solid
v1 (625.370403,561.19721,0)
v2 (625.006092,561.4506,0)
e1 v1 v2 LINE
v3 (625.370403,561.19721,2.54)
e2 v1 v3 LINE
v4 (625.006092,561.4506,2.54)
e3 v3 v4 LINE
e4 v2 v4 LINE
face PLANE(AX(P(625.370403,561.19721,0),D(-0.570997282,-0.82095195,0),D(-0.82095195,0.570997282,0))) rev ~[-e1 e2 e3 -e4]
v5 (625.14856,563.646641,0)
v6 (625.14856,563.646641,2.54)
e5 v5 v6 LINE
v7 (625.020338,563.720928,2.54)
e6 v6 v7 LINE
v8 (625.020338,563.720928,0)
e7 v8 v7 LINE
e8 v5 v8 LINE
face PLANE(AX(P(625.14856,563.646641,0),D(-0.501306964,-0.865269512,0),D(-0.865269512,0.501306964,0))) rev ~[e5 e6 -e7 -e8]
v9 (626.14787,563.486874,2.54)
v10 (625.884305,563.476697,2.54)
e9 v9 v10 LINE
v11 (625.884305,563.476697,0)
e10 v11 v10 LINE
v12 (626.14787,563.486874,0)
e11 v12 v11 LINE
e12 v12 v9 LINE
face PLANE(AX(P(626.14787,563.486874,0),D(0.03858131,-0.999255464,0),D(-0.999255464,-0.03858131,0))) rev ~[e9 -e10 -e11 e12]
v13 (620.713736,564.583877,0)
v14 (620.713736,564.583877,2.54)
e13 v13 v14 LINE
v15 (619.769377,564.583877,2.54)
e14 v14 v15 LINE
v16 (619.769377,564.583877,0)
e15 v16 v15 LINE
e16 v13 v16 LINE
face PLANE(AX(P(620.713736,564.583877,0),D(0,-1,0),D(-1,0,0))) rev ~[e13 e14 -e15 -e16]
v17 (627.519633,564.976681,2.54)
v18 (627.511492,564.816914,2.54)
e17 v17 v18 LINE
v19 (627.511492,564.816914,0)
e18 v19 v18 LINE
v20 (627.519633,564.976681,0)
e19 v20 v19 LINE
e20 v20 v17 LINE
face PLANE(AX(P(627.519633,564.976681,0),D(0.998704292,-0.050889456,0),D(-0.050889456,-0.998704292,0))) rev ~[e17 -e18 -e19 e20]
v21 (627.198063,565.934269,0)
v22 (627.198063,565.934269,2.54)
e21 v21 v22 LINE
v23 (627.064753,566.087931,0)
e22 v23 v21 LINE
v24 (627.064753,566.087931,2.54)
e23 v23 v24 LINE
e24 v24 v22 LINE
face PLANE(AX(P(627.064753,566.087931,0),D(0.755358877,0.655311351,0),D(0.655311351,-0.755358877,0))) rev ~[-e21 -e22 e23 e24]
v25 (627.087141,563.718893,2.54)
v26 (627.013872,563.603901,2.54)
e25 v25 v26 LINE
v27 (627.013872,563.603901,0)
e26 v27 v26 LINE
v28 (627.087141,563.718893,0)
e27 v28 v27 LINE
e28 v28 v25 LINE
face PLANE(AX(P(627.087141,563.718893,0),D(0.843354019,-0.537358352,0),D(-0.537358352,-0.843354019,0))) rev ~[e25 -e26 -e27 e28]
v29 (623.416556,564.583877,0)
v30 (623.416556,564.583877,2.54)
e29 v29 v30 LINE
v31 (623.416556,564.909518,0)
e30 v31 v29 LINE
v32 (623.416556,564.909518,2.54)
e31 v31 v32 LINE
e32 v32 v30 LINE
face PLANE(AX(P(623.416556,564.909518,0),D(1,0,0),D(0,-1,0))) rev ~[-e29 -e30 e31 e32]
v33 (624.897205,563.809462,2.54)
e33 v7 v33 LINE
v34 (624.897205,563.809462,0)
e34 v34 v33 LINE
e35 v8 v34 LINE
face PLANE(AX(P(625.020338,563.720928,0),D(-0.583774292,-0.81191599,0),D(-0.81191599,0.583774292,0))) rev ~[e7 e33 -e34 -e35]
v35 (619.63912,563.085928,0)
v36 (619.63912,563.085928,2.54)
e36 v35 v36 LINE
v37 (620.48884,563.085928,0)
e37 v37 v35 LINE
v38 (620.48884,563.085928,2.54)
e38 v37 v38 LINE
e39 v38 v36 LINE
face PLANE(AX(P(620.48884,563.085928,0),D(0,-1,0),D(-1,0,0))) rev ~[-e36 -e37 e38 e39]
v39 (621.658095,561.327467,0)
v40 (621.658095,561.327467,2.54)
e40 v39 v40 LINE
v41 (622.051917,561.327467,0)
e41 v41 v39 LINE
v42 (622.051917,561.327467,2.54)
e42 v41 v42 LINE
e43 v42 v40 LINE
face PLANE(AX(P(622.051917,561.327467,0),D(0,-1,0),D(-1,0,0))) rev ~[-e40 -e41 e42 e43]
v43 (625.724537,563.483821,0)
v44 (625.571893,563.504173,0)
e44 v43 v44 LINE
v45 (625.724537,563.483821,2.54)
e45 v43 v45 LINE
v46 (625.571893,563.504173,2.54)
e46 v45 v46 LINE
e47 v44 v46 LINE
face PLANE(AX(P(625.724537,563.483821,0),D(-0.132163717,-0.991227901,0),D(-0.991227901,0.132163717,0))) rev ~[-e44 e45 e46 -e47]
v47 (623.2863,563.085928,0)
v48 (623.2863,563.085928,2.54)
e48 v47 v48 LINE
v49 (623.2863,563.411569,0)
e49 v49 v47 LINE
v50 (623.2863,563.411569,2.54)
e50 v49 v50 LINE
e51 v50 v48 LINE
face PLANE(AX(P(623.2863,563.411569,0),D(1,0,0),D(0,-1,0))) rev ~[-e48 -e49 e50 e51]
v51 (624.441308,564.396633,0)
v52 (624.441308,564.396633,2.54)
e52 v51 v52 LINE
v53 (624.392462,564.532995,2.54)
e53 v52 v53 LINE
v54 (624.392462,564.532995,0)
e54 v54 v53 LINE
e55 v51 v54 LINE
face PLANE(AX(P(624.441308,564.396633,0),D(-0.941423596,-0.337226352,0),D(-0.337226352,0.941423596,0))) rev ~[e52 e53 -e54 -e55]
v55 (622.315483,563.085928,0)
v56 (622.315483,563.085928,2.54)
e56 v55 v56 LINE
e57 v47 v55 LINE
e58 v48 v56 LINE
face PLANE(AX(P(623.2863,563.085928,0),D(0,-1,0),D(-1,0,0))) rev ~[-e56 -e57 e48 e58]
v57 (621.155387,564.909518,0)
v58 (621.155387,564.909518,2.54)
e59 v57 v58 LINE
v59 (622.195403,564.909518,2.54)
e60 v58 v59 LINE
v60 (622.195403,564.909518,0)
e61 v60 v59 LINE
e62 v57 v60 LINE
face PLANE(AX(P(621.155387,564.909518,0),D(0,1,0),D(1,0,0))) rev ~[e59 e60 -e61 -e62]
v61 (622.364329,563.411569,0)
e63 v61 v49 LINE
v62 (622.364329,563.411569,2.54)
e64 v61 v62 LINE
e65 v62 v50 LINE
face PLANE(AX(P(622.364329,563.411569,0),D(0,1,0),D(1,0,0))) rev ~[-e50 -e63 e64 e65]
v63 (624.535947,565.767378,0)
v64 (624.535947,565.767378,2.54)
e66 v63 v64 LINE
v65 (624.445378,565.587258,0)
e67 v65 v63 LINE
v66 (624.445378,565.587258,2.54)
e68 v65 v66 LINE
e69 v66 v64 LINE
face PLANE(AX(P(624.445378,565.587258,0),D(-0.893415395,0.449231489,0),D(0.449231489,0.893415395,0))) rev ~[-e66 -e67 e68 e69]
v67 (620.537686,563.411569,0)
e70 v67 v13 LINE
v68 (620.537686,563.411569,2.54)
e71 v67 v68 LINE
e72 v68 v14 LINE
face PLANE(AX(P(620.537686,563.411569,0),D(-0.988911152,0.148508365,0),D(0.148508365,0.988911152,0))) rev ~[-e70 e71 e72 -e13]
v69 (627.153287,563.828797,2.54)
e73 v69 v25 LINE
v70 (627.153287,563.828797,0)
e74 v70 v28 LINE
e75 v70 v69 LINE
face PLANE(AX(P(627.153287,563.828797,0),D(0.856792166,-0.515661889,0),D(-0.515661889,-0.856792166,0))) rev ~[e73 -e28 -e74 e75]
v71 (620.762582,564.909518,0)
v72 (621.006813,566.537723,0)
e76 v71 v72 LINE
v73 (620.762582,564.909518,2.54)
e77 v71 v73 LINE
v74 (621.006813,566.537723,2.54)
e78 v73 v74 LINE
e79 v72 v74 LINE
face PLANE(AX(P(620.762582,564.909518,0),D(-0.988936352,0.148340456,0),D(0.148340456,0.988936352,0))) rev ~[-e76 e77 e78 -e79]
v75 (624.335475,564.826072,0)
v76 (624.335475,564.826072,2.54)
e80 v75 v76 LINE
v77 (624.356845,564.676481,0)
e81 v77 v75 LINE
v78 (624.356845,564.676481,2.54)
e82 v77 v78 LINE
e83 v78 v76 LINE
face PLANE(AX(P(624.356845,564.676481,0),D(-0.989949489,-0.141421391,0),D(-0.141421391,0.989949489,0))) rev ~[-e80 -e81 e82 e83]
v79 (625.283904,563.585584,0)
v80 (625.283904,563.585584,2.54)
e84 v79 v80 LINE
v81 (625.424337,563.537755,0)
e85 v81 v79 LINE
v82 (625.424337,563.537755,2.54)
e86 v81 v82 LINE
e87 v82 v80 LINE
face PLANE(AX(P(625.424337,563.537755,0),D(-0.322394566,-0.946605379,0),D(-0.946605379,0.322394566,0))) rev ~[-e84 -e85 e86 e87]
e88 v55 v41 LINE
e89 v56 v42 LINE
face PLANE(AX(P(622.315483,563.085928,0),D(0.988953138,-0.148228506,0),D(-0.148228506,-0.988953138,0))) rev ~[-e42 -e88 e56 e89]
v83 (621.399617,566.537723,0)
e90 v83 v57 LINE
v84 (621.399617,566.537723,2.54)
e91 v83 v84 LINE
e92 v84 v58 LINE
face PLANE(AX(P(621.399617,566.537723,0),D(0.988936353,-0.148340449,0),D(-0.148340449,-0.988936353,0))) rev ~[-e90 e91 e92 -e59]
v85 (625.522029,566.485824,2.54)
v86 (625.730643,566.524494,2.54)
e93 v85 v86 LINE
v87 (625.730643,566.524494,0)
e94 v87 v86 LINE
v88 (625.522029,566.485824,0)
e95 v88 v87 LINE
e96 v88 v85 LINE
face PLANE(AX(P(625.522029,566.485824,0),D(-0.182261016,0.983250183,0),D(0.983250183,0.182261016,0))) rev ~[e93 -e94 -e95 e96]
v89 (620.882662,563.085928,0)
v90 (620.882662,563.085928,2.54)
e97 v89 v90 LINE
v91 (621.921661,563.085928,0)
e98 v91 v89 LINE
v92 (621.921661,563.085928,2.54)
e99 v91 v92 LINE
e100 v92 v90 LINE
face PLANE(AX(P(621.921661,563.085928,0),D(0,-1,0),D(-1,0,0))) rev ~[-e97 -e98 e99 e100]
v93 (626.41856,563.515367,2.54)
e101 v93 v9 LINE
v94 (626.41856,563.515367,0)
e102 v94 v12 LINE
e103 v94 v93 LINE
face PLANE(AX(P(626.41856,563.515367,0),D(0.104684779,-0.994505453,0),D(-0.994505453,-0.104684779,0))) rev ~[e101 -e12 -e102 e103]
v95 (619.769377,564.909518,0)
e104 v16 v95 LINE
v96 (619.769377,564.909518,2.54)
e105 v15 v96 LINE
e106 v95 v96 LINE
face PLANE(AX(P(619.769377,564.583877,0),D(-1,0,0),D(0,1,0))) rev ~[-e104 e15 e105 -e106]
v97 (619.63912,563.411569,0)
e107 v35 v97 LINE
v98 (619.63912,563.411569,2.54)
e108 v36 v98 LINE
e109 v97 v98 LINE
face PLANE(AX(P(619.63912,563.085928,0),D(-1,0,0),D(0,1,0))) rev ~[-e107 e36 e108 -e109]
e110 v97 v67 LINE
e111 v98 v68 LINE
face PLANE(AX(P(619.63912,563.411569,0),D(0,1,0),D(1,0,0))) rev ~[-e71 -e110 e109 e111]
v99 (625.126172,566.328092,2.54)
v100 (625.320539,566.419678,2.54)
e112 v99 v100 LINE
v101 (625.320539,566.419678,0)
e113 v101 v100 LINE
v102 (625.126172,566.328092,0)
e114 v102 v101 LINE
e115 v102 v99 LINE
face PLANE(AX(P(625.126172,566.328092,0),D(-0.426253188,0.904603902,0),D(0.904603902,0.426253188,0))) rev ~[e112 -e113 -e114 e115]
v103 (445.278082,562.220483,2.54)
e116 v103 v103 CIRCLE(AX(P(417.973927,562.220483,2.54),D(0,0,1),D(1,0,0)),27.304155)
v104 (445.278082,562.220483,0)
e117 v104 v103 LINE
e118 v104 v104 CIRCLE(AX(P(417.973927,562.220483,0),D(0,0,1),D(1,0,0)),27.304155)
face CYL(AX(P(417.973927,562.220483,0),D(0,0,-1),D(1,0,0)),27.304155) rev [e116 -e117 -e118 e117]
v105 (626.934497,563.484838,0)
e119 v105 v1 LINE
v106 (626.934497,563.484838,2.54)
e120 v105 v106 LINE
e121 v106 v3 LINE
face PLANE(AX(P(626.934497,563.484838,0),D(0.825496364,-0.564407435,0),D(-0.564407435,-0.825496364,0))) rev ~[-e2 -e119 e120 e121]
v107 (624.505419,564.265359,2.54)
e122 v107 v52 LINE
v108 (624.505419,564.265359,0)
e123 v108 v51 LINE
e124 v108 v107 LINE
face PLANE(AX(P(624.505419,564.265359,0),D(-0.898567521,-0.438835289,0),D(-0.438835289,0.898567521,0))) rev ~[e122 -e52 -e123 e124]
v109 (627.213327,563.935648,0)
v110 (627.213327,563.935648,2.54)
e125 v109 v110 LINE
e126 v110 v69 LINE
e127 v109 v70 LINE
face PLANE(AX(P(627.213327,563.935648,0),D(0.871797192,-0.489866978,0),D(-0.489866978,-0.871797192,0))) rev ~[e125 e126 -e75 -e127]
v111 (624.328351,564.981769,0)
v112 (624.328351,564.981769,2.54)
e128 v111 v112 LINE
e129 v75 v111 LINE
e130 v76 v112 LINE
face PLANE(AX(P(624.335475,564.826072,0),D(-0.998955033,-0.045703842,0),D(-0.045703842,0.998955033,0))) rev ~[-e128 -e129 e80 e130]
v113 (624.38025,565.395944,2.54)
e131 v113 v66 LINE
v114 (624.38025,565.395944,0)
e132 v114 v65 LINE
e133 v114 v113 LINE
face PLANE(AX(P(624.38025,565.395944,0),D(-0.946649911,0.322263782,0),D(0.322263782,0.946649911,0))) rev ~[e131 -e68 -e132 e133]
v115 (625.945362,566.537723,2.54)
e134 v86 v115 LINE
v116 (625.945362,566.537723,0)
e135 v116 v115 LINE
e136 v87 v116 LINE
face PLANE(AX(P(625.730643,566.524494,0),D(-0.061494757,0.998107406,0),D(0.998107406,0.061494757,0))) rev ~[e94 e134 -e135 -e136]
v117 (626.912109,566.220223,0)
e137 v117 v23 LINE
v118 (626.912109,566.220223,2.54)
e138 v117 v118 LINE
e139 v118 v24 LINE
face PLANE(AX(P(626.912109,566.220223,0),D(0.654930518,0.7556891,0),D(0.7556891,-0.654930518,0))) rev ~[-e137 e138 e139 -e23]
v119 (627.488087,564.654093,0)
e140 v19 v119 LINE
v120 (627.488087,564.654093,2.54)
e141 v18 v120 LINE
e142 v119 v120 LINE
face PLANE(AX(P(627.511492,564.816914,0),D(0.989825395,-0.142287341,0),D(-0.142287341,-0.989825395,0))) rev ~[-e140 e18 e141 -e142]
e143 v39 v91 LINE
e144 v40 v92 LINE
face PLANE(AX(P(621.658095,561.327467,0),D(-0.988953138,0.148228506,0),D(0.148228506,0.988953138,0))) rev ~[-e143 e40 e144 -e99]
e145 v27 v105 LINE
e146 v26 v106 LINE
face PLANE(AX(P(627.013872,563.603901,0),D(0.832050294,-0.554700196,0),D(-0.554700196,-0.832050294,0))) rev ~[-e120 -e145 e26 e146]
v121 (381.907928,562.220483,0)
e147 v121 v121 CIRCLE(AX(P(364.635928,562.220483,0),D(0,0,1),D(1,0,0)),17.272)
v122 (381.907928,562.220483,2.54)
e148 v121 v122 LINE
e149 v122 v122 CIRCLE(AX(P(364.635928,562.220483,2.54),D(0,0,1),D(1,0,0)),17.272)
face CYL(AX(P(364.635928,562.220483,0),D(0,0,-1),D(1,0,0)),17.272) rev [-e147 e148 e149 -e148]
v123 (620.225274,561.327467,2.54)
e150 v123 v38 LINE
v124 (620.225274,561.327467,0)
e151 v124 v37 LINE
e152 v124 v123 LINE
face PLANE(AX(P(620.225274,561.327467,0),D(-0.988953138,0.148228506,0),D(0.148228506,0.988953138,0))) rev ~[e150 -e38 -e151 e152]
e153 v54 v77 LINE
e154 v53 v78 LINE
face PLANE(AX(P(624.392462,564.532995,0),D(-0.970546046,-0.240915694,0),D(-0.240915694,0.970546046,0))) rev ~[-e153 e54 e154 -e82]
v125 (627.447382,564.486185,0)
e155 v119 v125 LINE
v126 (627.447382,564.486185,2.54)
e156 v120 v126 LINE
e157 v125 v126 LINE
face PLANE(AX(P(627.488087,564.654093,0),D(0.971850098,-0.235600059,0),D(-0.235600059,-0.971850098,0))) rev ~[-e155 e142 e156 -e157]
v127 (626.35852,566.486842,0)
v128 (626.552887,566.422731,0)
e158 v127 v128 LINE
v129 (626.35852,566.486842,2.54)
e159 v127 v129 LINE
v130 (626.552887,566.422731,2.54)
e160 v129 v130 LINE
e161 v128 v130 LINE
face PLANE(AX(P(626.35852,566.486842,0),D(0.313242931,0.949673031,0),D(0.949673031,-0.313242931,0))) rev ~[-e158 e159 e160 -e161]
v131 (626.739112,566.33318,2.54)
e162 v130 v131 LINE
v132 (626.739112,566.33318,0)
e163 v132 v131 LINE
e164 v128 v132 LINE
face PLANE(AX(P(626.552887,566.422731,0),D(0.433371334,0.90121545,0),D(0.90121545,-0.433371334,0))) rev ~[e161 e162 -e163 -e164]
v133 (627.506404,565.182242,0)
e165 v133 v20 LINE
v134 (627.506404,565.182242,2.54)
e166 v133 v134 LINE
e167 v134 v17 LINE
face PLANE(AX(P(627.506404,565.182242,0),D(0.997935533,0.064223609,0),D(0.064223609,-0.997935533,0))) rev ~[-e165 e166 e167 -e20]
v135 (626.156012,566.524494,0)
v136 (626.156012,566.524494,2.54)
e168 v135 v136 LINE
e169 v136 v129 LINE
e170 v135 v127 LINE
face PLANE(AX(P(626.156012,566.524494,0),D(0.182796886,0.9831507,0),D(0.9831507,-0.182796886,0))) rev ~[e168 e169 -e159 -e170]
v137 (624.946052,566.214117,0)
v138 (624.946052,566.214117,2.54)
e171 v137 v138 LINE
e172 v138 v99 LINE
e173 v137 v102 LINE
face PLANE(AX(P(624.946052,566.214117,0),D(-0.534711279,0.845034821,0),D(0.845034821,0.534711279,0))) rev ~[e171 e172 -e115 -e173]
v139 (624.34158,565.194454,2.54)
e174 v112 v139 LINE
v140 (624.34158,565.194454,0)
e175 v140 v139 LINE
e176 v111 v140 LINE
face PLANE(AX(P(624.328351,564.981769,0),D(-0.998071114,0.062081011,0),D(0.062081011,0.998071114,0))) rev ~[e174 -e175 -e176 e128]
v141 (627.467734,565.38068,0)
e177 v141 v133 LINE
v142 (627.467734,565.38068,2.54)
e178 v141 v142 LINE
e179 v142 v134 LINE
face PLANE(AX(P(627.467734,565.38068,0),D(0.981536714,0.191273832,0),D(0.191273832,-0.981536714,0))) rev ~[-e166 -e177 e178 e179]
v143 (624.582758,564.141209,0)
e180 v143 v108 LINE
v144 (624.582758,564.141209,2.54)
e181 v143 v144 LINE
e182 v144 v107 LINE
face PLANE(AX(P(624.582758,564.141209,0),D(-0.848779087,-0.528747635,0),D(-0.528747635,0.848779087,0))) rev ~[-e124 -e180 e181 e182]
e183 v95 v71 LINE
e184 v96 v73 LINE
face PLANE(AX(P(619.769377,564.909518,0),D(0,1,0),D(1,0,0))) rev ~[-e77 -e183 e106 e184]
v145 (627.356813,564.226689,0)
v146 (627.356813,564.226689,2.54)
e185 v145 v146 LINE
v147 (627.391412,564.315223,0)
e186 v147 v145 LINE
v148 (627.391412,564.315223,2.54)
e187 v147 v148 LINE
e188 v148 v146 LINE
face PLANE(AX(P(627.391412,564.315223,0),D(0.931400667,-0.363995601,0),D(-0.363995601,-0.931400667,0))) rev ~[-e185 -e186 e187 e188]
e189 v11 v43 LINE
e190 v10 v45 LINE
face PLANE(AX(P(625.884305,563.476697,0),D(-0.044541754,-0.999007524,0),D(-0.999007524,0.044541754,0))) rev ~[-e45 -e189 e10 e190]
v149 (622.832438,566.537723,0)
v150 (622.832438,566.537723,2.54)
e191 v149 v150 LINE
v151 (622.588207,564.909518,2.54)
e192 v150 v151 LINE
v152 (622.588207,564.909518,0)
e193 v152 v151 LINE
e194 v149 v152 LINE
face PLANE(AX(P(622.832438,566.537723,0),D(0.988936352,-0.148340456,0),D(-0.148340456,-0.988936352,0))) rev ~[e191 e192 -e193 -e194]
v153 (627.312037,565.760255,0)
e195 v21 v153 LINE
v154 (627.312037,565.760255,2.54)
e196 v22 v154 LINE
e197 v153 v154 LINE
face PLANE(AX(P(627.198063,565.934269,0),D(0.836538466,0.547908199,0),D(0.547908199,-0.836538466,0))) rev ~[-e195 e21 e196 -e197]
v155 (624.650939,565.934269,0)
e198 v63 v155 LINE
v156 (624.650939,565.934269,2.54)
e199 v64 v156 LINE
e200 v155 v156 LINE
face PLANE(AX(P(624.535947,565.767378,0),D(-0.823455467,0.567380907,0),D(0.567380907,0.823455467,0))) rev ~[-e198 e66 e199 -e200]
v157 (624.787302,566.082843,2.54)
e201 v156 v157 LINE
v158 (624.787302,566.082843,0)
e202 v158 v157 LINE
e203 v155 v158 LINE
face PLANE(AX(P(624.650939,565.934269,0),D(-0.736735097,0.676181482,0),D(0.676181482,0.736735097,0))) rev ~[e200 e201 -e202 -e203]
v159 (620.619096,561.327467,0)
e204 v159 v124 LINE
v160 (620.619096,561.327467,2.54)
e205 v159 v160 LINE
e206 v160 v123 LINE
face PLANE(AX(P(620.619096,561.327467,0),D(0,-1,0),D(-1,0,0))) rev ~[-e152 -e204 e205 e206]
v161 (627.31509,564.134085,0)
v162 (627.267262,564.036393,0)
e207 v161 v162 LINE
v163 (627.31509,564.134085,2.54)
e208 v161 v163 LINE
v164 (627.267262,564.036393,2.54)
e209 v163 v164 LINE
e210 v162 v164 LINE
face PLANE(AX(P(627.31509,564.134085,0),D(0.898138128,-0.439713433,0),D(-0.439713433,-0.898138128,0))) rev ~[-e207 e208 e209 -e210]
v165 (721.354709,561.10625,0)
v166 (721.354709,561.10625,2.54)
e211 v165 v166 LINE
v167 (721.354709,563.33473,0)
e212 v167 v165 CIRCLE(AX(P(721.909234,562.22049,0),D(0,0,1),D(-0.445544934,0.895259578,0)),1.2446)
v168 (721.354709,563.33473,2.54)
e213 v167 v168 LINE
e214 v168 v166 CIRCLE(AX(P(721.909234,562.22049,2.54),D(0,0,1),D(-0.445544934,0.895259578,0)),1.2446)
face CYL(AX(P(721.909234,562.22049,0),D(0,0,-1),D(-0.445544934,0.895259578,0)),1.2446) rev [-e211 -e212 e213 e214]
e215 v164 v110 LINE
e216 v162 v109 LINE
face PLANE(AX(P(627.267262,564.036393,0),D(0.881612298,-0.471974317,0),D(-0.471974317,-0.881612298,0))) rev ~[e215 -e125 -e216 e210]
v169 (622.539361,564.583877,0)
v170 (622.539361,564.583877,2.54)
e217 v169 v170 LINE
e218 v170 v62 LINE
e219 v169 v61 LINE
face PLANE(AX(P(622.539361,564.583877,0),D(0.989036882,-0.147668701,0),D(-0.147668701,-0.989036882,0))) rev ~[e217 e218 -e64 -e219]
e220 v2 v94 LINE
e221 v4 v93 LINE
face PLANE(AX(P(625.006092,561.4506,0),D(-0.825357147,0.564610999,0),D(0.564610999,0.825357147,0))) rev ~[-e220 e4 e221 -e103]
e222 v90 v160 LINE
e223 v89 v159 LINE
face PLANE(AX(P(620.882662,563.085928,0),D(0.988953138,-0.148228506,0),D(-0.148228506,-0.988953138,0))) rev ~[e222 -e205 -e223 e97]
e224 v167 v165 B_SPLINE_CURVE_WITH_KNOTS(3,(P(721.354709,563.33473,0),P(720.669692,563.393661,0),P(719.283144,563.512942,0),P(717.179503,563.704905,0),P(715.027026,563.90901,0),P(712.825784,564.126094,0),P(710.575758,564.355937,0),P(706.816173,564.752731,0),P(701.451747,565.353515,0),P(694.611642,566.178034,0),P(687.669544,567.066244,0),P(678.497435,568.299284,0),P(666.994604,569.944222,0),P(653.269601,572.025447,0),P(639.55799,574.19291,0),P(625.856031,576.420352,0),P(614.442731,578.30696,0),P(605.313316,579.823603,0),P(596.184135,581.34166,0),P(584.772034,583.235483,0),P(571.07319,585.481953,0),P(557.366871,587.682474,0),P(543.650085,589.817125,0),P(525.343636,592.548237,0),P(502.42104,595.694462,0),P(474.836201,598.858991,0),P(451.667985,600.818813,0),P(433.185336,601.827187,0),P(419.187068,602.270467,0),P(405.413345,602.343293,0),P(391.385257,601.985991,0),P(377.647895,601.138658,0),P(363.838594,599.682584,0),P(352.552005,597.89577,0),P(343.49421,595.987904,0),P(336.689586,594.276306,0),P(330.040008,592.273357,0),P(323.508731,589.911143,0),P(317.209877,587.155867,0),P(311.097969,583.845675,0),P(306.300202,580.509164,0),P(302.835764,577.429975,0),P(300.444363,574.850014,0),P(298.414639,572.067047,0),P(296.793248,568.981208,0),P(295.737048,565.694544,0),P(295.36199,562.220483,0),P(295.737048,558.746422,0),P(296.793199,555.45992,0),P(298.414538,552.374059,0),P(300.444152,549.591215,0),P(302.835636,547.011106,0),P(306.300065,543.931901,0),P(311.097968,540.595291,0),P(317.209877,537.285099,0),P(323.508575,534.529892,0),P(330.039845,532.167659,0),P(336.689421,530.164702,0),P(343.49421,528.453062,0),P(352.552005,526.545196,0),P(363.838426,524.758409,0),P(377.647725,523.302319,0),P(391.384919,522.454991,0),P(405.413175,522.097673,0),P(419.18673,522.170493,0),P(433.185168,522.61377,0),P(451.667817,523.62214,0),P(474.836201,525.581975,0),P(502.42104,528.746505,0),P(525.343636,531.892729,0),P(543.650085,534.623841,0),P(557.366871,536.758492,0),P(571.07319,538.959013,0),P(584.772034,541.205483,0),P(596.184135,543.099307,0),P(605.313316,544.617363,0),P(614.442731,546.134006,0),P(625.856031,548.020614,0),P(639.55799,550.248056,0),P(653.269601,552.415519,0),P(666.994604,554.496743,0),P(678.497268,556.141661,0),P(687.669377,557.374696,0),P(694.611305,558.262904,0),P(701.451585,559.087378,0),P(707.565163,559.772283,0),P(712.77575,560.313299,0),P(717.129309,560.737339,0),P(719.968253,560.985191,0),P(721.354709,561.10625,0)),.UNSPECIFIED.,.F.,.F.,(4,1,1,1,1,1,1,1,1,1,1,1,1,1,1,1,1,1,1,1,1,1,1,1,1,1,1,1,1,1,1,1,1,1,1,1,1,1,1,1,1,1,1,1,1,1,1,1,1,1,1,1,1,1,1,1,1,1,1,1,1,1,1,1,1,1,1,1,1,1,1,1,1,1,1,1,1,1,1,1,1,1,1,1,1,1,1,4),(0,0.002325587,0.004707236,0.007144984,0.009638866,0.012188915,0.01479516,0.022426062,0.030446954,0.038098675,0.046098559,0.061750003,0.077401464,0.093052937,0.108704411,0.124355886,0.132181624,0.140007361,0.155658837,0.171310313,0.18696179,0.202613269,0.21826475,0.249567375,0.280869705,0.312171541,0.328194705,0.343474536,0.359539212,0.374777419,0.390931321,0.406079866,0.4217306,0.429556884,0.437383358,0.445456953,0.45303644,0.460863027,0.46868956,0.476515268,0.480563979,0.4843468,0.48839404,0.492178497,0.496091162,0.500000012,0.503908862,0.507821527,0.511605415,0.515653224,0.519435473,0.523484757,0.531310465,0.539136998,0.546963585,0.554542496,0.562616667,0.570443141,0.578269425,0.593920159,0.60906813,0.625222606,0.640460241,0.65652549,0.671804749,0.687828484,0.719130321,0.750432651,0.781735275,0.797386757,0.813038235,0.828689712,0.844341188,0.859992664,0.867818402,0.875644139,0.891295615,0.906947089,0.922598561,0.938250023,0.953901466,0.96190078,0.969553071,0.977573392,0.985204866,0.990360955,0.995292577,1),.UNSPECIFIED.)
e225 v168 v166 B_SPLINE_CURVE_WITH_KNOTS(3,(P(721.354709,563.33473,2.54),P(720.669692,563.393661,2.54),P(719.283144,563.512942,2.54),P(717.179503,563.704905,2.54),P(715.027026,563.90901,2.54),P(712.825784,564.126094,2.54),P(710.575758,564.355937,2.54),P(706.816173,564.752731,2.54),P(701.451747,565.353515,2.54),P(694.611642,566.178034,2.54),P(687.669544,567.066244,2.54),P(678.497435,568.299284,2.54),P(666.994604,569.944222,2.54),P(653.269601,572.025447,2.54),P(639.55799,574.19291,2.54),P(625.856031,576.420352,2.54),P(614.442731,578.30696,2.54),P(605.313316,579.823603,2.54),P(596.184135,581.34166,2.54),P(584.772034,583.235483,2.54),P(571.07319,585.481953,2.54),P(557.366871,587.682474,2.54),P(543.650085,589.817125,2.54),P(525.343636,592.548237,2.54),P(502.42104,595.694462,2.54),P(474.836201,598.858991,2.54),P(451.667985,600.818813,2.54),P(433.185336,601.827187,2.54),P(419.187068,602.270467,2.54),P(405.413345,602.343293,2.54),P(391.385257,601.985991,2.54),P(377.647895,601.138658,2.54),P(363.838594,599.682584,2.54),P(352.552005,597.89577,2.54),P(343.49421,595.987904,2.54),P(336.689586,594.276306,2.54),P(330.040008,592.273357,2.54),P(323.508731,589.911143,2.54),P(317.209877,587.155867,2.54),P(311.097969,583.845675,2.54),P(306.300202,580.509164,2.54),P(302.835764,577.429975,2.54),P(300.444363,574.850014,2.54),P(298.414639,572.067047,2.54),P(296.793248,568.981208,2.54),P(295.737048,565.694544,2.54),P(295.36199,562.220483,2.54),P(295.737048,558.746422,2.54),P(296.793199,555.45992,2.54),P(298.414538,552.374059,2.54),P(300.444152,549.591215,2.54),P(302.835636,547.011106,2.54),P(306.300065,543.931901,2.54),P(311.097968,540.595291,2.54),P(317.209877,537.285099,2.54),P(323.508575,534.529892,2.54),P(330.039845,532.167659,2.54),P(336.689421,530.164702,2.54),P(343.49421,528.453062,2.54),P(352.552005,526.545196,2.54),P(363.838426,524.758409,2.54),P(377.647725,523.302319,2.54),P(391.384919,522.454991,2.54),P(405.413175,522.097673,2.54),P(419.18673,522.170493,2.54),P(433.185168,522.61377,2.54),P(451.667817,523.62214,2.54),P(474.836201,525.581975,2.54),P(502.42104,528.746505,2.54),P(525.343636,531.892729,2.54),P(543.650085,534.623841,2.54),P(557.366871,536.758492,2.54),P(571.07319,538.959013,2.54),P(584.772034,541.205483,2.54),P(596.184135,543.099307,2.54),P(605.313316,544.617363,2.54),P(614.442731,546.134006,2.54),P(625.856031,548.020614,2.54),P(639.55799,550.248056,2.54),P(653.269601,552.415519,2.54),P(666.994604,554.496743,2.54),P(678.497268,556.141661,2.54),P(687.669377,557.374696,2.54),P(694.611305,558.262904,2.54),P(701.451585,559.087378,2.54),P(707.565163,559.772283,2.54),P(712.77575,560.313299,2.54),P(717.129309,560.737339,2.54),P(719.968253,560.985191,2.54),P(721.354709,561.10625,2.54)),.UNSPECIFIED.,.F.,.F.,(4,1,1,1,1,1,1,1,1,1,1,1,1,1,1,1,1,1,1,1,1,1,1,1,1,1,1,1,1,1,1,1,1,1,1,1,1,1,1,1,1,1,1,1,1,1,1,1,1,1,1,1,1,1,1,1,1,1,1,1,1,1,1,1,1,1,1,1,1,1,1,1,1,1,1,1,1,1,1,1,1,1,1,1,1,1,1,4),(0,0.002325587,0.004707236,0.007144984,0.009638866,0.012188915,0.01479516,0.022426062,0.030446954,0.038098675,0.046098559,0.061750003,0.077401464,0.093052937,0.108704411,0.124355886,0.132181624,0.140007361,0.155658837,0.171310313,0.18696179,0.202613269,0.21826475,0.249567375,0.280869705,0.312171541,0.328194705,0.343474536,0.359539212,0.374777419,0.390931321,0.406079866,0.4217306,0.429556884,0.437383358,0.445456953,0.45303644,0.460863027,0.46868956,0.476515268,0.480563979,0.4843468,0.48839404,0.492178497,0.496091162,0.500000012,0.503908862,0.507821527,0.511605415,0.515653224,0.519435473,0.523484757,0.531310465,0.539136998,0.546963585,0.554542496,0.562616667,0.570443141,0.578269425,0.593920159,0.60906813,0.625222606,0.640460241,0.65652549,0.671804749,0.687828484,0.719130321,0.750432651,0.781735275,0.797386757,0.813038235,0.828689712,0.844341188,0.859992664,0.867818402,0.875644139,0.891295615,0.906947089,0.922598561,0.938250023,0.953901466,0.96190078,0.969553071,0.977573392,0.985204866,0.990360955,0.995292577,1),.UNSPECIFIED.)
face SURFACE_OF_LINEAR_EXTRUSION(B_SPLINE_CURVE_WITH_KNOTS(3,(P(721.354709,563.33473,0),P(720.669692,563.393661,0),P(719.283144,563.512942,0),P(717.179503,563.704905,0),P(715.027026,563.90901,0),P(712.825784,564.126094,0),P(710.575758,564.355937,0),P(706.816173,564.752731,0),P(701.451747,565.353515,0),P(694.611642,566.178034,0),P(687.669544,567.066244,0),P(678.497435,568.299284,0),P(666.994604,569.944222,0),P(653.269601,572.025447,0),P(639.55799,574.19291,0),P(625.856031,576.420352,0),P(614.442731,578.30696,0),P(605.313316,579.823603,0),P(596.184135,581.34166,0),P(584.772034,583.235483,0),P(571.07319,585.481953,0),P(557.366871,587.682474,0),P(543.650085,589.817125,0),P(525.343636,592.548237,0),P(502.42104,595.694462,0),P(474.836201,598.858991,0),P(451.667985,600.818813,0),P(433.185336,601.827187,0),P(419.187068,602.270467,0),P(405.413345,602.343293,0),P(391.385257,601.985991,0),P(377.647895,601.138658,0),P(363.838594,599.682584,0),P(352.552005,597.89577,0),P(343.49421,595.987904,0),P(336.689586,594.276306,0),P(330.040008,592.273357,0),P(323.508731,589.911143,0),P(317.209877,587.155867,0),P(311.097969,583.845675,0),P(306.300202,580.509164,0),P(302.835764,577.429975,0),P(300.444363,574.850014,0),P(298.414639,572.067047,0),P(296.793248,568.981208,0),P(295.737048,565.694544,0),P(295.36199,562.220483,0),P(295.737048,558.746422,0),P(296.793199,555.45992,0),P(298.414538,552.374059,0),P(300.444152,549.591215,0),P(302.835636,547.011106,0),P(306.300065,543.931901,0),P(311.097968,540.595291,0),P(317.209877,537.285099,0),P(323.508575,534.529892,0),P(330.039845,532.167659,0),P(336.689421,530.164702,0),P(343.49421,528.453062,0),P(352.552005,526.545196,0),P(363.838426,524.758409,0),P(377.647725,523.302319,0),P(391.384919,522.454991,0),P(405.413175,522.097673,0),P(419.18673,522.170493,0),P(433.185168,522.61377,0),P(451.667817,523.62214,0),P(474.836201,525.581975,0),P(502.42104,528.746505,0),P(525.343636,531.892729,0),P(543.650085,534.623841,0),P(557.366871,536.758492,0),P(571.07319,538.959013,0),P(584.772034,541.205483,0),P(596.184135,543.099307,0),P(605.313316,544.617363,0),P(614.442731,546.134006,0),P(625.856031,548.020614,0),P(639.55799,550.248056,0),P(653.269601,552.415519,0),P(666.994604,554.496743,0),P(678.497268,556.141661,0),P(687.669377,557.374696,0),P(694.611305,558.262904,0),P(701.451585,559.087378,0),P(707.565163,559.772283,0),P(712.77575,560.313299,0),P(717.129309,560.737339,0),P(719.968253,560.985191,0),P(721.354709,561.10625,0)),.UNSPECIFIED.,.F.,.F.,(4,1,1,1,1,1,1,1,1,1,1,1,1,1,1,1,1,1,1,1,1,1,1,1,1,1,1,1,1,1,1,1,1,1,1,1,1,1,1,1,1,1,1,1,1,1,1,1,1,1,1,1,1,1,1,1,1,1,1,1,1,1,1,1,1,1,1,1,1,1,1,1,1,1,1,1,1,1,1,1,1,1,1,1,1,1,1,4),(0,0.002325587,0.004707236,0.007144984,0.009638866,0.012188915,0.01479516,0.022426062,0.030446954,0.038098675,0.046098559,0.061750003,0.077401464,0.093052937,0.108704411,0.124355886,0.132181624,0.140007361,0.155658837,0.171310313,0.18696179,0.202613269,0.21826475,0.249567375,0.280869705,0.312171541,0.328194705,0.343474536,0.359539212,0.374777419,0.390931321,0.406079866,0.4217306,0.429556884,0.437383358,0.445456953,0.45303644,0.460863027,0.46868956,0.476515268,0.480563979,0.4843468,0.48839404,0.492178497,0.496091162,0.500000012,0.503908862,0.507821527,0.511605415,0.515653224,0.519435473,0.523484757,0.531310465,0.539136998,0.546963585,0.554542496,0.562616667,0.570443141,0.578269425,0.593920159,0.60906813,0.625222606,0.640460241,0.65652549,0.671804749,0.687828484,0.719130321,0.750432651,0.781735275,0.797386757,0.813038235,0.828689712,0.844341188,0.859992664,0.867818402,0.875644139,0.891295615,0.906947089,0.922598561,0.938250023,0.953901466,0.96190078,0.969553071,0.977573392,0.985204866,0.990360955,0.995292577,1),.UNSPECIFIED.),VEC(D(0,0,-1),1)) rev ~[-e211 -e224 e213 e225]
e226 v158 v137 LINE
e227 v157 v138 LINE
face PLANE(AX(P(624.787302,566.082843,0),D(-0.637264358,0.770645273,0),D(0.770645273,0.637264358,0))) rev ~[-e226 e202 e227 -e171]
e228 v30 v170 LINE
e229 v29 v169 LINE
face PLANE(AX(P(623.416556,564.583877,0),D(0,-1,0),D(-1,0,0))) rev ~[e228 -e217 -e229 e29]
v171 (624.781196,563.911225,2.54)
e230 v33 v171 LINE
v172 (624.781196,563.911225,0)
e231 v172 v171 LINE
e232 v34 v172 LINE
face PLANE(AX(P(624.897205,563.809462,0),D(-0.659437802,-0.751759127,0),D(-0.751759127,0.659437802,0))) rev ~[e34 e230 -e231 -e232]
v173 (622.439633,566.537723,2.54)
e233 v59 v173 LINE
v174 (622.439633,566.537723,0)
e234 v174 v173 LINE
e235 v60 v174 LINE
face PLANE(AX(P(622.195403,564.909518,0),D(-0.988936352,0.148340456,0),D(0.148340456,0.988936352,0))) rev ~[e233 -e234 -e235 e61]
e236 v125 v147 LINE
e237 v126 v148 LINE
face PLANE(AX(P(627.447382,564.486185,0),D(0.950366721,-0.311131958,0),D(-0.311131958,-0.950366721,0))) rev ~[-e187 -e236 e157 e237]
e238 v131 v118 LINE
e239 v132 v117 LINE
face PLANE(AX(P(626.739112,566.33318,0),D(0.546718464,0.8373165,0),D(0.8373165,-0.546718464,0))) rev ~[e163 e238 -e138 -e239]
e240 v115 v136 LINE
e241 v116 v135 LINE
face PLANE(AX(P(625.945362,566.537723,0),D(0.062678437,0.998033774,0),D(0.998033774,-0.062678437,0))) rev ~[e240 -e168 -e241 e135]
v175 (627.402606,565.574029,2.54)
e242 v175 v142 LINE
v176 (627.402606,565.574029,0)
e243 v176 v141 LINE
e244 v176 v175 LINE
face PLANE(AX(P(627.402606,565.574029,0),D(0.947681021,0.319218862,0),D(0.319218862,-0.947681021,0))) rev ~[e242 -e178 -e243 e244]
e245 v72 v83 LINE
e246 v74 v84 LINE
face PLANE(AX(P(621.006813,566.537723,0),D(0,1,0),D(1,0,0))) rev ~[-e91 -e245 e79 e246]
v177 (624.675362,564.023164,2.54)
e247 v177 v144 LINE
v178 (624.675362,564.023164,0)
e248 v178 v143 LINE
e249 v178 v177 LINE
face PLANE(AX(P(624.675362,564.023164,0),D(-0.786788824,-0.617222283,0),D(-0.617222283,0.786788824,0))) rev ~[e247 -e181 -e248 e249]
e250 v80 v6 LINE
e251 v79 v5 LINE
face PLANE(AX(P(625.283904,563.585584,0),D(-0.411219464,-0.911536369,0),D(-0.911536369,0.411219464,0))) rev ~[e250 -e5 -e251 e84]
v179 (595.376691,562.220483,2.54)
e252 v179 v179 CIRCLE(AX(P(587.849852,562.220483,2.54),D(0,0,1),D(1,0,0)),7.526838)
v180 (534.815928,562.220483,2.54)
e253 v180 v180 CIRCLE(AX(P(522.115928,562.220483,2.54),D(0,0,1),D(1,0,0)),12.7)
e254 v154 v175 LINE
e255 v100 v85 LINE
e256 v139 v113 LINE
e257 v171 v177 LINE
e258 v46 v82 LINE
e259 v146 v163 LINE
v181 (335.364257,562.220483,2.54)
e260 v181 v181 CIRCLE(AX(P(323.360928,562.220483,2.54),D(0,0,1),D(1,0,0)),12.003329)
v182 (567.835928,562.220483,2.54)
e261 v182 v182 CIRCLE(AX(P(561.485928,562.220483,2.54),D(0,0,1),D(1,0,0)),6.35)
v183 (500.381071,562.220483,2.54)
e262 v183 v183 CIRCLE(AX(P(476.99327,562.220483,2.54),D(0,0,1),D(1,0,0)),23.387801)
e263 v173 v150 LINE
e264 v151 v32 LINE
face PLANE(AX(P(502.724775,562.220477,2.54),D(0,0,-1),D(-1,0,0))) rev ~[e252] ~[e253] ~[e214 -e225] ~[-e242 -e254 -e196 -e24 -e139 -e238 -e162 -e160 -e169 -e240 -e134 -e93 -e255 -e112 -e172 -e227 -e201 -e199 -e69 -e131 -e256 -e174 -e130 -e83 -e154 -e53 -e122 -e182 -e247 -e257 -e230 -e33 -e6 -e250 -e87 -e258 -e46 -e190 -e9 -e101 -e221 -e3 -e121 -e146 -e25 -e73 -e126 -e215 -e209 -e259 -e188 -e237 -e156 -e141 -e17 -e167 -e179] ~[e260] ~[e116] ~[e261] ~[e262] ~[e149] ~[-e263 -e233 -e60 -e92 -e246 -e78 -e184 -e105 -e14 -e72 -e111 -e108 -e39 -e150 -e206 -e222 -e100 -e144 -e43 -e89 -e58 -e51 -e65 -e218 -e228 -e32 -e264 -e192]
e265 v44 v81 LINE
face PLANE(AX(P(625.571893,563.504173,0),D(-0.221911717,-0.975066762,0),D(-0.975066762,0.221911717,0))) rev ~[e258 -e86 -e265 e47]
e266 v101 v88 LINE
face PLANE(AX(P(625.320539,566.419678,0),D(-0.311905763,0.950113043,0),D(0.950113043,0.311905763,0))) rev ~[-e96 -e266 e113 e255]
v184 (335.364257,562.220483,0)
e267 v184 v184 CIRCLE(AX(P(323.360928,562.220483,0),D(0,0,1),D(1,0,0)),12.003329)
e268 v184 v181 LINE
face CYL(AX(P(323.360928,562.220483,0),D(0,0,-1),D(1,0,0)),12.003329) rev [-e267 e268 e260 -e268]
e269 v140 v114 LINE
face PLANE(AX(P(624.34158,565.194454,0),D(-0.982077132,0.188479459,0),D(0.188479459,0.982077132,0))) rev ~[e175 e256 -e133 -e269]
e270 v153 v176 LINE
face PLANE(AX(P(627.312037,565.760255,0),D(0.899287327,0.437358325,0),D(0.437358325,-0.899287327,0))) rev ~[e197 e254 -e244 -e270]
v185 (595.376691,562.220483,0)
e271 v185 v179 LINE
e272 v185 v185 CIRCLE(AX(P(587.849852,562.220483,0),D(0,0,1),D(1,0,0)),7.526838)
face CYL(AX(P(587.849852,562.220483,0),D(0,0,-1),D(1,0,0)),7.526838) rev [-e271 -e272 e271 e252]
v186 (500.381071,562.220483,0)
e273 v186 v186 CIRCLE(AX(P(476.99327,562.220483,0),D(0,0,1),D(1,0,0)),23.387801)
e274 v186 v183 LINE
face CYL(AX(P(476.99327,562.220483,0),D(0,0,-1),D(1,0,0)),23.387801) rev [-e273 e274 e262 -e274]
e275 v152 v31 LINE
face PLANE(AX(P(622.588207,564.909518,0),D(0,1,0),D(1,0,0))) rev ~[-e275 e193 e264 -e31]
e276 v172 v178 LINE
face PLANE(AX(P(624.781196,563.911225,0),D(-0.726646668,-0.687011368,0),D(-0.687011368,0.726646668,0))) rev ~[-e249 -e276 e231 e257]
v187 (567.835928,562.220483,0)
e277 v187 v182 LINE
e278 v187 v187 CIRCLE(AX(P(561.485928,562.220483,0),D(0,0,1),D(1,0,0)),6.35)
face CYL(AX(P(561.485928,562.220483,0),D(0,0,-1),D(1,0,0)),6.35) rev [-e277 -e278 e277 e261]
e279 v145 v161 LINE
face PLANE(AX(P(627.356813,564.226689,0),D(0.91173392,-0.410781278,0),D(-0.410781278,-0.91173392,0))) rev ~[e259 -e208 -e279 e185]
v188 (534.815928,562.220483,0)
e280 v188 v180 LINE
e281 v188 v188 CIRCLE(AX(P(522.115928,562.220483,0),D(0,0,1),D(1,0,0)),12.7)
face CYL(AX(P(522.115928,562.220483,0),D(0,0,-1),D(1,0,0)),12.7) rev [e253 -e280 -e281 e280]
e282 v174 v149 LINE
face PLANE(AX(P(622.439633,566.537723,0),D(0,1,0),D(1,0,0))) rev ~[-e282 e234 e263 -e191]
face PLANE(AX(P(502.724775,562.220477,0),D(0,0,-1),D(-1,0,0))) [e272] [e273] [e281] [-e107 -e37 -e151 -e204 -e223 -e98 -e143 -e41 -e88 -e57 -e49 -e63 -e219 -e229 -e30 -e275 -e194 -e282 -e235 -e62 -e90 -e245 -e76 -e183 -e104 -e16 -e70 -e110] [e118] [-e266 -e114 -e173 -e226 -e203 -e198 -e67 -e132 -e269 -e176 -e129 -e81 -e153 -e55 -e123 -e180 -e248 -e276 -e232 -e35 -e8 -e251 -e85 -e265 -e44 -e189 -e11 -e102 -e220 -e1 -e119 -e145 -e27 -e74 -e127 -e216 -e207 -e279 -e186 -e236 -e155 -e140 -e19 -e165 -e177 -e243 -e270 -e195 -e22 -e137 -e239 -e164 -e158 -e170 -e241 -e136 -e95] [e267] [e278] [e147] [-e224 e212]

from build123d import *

# Parameters (mm, degrees)
SKETCH2_R           = 12.003328726
SKETCH2_R_2         = 17.272
SKETCH2_R_3         = 27.304154698
SKETCH2_R_4         = 12.7
SKETCH2_R_5         = 7.526838105
SKETCH2_R_6         = 23.387800821
SKETCH2_R_7         = 6.35
BOSS_EXTRUDE1_DEPTH = 2.54


with BuildPart() as part:
    # Sketch2 → Boss-Extrude1 (new body)
    with BuildSketch(Plane.XY):
        with BuildLine():
            ThreePointArc((721.354709246, 563.33473003), (720.664634471, 562.220490005), (721.354709164, 561.106249929))
            add(Edge.make_bspline(
                [(721.354709246, 563.33473003), (720.669692128, 563.393661196), (719.283144387, 563.512941923), (717.179502943, 563.704905159), (715.027025729, 563.90900958), (712.825783827, 564.126093988), (710.575758231, 564.355937385), (706.816173491, 564.752730715), (701.451746769, 565.353515459), (694.611641723, 566.17803442), (687.669543632, 567.066243813), (678.497434992, 568.299284095), (666.994604048, 569.944222298), (653.26960095, 572.025447015), (639.557989811, 574.192909916), (625.85603071, 576.420352413), (614.442731232, 578.306960032), (605.313315652, 579.823603062), (596.184134769, 581.341659683), (584.772034179, 583.235482757), (571.073189885, 585.481952879), (557.366871201, 587.68247387), (543.650085035, 589.817125434), (525.343636022, 592.548236847), (502.421039839, 595.694461701), (474.836201309, 598.858990536), (451.667984887, 600.818812639), (433.185336367, 601.827187361), (419.187067889, 602.27046729), (405.413344751, 602.343292613), (391.385257397, 601.985991161), (377.647895216, 601.138657859), (363.838593872, 599.682584455), (352.552004552, 597.895769847), (343.494210044, 595.987903541), (336.689585596, 594.276306338), (330.040008497, 592.273356885), (323.508731255, 589.911143108), (317.209877304, 587.155866841), (311.0979694, 583.845675073), (306.300201721, 580.509163904), (302.835763518, 577.42997479), (300.444363396, 574.850013906), (298.414638984, 572.067046924), (296.793248106, 568.981208199), (295.737048443, 565.694544149), (295.36198951, 562.220483166), (295.737047864, 558.746421775), (296.793198608, 555.459920072), (298.414537993, 552.374058948), (300.444151859, 549.591214855), (302.835635987, 547.011105672), (306.300065014, 543.931901204), (311.097968499, 540.595290519), (317.209877471, 537.285099341), (323.508575381, 534.529892024), (330.039845164, 532.16765923), (336.689420738, 530.164702152), (343.494209965, 528.453062476), (352.552004586, 526.545196377), (363.838426238, 524.758408925), (377.647725499, 523.302319133), (391.384918975, 522.454990818), (405.413175431, 522.097673158), (419.186730073, 522.170493332), (433.185167717, 522.613770204), (451.667816688, 523.622139936), (474.836201307, 525.581975454), (502.42103984, 528.746504551), (525.343636022, 531.892729341), (543.650085035, 534.623840763), (557.366871201, 536.758492326), (571.073189885, 538.959013316), (584.772034179, 541.205483439), (596.184134769, 543.099306512), (605.313315652, 544.617363134), (614.442731233, 546.134006161), (625.856030709, 548.020613797), (639.557989817, 550.248056224), (653.269600928, 552.415519387), (666.994604131, 554.496743125), (678.497267747, 556.141660506), (687.669376806, 557.374696374), (694.611305207, 558.26290404), (701.451584715, 559.087377696), (707.565162566, 559.772282801), (712.775750453, 560.313299347), (717.129309465, 560.737338789), (719.96825343, 560.985191328), (721.354709164, 561.106249929)],
                knots=[0, 0, 0, 0, 0.002325587, 0.004707236, 0.007144984, 0.009638866, 0.012188915, 0.01479516, 0.022426062, 0.030446954, 0.038098675, 0.046098559, 0.061750003, 0.077401464, 0.093052937, 0.108704411, 0.124355886, 0.132181624, 0.140007361, 0.155658837, 0.171310313, 0.18696179, 0.202613269, 0.21826475, 0.249567375, 0.280869705, 0.312171541, 0.328194705, 0.343474536, 0.359539212, 0.374777419, 0.390931321, 0.406079866, 0.4217306, 0.429556884, 0.437383358, 0.445456953, 0.45303644, 0.460863027, 0.46868956, 0.476515268, 0.480563979, 0.4843468, 0.48839404, 0.492178497, 0.496091162, 0.500000012, 0.503908862, 0.507821527, 0.511605415, 0.515653224, 0.519435473, 0.523484757, 0.531310465, 0.539136998, 0.546963585, 0.554542496, 0.562616667, 0.570443141, 0.578269425, 0.593920159, 0.60906813, 0.625222606, 0.640460241, 0.65652549, 0.671804749, 0.687828484, 0.719130321, 0.750432651, 0.781735275, 0.797386757, 0.813038235, 0.828689712, 0.844341188, 0.859992664, 0.867818402, 0.875644139, 0.891295615, 0.906947089, 0.922598561, 0.938250023, 0.953901466, 0.96190078, 0.969553071, 0.977573392, 0.985204866, 0.990360955, 0.995292577, 1, 1, 1, 1], degree=3))
        make_face()
        with Locations((323.360928395, 562.220483096)):
            Circle(SKETCH2_R, mode=Mode.SUBTRACT)
        with Locations((364.635928395, 562.220483096)):
            Circle(SKETCH2_R_2, mode=Mode.SUBTRACT)
        with Locations((417.973926997, 562.220483096)):
            Circle(SKETCH2_R_3, mode=Mode.SUBTRACT)
        with Locations((522.115928395, 562.220483096)):
            Circle(SKETCH2_R_4, mode=Mode.SUBTRACT)
        with Locations((587.849852492, 562.220483096)):
            Circle(SKETCH2_R_5, mode=Mode.SUBTRACT)
        with Locations((476.993270406, 562.220483096)):
            Circle(SKETCH2_R_6, mode=Mode.SUBTRACT)
        with Locations((561.485928395, 562.220483096)):
            Circle(SKETCH2_R_7, mode=Mode.SUBTRACT)
        Polygon((623.286299973, 563.411569166), (623.286299973, 563.085928141), (622.315482661, 563.085928141), (622.05191696, 561.327466594), (621.658094847, 561.327466594), (621.921660548, 563.085928141), (620.882662149, 563.085928141), (620.619096448, 561.327466594), (620.225274335, 561.327466594), (620.488840036, 563.085928141), (619.639120486, 563.085928141), (619.639120486, 563.411569166), (620.537686187, 563.411569166), (620.713735873, 564.583876855), (619.769376898, 564.583876855), (619.769376898, 564.90951788), (620.762582023, 564.90951788), (621.006812797, 566.537723006), (621.399617274, 566.537723006), (621.155386511, 564.90951788), (622.195402536, 564.90951788), (622.43963331, 566.537723006), (622.832437797, 566.537723006), (622.588207023, 564.90951788), (623.416556385, 564.90951788), (623.416556385, 564.583876855), (622.539360873, 564.583876855), (622.364328822, 563.411569166), align=None, mode=Mode.SUBTRACT)
        Polygon((625.370402536, 561.197210192), (625.006091636, 561.450599606), (626.418559586, 563.515367242), (626.147870486, 563.486873654), (625.884304774, 563.476697367), (625.724537149, 563.483820767), (625.571892923, 563.50417333), (625.424336835, 563.537755056), (625.283904136, 563.585583581), (625.148559586, 563.64664128), (625.020338435, 563.720928141), (624.897205423, 563.809461792), (624.78119581, 563.911224606), (624.675362473, 564.023163717), (624.58275831, 564.141208581), (624.505418561, 564.265359229), (624.441307986, 564.396633267), (624.392461835, 564.532995443), (624.356844847, 564.676481018), (624.335474649, 564.826072367), (624.328351249, 564.98176948), (624.341580423, 565.19445378), (624.380250297, 565.395944166), (624.445378498, 565.587258267), (624.53594741, 565.767378455), (624.650939398, 565.93426948), (624.787301574, 566.082843204), (624.946051574, 566.214117242), (625.126171762, 566.328091594), (625.320538749, 566.419678141), (625.522029136, 566.485823968), (625.730642923, 566.524493842), (625.945362473, 566.537723006), (626.156011511, 566.524493842), (626.358519523, 566.486841594), (626.552886511, 566.422731018), (626.739112473, 566.333179742), (626.912109262, 566.220223006), (627.064753498, 566.087931342), (627.198062797, 565.93426948), (627.312037149, 565.760255056), (627.402606061, 565.574029094), (627.467734262, 565.380679742), (627.506404136, 565.182242242), (627.51963331, 564.976681342), (627.511492274, 564.816913717), (627.488086835, 564.654093204), (627.447381699, 564.486184543), (627.391412149, 564.315223006), (627.356812797, 564.226689355), (627.315090036, 564.134085192), (627.267261511, 564.03639288), (627.213327212, 563.935647692), (627.153287149, 563.828796729), (627.087141322, 563.71889288), (627.013872086, 563.603900893), (626.934497086, 563.484838393), align=None, mode=Mode.SUBTRACT)
    extrude(amount=BOSS_EXTRUDE1_DEPTH)


solid = part.part
